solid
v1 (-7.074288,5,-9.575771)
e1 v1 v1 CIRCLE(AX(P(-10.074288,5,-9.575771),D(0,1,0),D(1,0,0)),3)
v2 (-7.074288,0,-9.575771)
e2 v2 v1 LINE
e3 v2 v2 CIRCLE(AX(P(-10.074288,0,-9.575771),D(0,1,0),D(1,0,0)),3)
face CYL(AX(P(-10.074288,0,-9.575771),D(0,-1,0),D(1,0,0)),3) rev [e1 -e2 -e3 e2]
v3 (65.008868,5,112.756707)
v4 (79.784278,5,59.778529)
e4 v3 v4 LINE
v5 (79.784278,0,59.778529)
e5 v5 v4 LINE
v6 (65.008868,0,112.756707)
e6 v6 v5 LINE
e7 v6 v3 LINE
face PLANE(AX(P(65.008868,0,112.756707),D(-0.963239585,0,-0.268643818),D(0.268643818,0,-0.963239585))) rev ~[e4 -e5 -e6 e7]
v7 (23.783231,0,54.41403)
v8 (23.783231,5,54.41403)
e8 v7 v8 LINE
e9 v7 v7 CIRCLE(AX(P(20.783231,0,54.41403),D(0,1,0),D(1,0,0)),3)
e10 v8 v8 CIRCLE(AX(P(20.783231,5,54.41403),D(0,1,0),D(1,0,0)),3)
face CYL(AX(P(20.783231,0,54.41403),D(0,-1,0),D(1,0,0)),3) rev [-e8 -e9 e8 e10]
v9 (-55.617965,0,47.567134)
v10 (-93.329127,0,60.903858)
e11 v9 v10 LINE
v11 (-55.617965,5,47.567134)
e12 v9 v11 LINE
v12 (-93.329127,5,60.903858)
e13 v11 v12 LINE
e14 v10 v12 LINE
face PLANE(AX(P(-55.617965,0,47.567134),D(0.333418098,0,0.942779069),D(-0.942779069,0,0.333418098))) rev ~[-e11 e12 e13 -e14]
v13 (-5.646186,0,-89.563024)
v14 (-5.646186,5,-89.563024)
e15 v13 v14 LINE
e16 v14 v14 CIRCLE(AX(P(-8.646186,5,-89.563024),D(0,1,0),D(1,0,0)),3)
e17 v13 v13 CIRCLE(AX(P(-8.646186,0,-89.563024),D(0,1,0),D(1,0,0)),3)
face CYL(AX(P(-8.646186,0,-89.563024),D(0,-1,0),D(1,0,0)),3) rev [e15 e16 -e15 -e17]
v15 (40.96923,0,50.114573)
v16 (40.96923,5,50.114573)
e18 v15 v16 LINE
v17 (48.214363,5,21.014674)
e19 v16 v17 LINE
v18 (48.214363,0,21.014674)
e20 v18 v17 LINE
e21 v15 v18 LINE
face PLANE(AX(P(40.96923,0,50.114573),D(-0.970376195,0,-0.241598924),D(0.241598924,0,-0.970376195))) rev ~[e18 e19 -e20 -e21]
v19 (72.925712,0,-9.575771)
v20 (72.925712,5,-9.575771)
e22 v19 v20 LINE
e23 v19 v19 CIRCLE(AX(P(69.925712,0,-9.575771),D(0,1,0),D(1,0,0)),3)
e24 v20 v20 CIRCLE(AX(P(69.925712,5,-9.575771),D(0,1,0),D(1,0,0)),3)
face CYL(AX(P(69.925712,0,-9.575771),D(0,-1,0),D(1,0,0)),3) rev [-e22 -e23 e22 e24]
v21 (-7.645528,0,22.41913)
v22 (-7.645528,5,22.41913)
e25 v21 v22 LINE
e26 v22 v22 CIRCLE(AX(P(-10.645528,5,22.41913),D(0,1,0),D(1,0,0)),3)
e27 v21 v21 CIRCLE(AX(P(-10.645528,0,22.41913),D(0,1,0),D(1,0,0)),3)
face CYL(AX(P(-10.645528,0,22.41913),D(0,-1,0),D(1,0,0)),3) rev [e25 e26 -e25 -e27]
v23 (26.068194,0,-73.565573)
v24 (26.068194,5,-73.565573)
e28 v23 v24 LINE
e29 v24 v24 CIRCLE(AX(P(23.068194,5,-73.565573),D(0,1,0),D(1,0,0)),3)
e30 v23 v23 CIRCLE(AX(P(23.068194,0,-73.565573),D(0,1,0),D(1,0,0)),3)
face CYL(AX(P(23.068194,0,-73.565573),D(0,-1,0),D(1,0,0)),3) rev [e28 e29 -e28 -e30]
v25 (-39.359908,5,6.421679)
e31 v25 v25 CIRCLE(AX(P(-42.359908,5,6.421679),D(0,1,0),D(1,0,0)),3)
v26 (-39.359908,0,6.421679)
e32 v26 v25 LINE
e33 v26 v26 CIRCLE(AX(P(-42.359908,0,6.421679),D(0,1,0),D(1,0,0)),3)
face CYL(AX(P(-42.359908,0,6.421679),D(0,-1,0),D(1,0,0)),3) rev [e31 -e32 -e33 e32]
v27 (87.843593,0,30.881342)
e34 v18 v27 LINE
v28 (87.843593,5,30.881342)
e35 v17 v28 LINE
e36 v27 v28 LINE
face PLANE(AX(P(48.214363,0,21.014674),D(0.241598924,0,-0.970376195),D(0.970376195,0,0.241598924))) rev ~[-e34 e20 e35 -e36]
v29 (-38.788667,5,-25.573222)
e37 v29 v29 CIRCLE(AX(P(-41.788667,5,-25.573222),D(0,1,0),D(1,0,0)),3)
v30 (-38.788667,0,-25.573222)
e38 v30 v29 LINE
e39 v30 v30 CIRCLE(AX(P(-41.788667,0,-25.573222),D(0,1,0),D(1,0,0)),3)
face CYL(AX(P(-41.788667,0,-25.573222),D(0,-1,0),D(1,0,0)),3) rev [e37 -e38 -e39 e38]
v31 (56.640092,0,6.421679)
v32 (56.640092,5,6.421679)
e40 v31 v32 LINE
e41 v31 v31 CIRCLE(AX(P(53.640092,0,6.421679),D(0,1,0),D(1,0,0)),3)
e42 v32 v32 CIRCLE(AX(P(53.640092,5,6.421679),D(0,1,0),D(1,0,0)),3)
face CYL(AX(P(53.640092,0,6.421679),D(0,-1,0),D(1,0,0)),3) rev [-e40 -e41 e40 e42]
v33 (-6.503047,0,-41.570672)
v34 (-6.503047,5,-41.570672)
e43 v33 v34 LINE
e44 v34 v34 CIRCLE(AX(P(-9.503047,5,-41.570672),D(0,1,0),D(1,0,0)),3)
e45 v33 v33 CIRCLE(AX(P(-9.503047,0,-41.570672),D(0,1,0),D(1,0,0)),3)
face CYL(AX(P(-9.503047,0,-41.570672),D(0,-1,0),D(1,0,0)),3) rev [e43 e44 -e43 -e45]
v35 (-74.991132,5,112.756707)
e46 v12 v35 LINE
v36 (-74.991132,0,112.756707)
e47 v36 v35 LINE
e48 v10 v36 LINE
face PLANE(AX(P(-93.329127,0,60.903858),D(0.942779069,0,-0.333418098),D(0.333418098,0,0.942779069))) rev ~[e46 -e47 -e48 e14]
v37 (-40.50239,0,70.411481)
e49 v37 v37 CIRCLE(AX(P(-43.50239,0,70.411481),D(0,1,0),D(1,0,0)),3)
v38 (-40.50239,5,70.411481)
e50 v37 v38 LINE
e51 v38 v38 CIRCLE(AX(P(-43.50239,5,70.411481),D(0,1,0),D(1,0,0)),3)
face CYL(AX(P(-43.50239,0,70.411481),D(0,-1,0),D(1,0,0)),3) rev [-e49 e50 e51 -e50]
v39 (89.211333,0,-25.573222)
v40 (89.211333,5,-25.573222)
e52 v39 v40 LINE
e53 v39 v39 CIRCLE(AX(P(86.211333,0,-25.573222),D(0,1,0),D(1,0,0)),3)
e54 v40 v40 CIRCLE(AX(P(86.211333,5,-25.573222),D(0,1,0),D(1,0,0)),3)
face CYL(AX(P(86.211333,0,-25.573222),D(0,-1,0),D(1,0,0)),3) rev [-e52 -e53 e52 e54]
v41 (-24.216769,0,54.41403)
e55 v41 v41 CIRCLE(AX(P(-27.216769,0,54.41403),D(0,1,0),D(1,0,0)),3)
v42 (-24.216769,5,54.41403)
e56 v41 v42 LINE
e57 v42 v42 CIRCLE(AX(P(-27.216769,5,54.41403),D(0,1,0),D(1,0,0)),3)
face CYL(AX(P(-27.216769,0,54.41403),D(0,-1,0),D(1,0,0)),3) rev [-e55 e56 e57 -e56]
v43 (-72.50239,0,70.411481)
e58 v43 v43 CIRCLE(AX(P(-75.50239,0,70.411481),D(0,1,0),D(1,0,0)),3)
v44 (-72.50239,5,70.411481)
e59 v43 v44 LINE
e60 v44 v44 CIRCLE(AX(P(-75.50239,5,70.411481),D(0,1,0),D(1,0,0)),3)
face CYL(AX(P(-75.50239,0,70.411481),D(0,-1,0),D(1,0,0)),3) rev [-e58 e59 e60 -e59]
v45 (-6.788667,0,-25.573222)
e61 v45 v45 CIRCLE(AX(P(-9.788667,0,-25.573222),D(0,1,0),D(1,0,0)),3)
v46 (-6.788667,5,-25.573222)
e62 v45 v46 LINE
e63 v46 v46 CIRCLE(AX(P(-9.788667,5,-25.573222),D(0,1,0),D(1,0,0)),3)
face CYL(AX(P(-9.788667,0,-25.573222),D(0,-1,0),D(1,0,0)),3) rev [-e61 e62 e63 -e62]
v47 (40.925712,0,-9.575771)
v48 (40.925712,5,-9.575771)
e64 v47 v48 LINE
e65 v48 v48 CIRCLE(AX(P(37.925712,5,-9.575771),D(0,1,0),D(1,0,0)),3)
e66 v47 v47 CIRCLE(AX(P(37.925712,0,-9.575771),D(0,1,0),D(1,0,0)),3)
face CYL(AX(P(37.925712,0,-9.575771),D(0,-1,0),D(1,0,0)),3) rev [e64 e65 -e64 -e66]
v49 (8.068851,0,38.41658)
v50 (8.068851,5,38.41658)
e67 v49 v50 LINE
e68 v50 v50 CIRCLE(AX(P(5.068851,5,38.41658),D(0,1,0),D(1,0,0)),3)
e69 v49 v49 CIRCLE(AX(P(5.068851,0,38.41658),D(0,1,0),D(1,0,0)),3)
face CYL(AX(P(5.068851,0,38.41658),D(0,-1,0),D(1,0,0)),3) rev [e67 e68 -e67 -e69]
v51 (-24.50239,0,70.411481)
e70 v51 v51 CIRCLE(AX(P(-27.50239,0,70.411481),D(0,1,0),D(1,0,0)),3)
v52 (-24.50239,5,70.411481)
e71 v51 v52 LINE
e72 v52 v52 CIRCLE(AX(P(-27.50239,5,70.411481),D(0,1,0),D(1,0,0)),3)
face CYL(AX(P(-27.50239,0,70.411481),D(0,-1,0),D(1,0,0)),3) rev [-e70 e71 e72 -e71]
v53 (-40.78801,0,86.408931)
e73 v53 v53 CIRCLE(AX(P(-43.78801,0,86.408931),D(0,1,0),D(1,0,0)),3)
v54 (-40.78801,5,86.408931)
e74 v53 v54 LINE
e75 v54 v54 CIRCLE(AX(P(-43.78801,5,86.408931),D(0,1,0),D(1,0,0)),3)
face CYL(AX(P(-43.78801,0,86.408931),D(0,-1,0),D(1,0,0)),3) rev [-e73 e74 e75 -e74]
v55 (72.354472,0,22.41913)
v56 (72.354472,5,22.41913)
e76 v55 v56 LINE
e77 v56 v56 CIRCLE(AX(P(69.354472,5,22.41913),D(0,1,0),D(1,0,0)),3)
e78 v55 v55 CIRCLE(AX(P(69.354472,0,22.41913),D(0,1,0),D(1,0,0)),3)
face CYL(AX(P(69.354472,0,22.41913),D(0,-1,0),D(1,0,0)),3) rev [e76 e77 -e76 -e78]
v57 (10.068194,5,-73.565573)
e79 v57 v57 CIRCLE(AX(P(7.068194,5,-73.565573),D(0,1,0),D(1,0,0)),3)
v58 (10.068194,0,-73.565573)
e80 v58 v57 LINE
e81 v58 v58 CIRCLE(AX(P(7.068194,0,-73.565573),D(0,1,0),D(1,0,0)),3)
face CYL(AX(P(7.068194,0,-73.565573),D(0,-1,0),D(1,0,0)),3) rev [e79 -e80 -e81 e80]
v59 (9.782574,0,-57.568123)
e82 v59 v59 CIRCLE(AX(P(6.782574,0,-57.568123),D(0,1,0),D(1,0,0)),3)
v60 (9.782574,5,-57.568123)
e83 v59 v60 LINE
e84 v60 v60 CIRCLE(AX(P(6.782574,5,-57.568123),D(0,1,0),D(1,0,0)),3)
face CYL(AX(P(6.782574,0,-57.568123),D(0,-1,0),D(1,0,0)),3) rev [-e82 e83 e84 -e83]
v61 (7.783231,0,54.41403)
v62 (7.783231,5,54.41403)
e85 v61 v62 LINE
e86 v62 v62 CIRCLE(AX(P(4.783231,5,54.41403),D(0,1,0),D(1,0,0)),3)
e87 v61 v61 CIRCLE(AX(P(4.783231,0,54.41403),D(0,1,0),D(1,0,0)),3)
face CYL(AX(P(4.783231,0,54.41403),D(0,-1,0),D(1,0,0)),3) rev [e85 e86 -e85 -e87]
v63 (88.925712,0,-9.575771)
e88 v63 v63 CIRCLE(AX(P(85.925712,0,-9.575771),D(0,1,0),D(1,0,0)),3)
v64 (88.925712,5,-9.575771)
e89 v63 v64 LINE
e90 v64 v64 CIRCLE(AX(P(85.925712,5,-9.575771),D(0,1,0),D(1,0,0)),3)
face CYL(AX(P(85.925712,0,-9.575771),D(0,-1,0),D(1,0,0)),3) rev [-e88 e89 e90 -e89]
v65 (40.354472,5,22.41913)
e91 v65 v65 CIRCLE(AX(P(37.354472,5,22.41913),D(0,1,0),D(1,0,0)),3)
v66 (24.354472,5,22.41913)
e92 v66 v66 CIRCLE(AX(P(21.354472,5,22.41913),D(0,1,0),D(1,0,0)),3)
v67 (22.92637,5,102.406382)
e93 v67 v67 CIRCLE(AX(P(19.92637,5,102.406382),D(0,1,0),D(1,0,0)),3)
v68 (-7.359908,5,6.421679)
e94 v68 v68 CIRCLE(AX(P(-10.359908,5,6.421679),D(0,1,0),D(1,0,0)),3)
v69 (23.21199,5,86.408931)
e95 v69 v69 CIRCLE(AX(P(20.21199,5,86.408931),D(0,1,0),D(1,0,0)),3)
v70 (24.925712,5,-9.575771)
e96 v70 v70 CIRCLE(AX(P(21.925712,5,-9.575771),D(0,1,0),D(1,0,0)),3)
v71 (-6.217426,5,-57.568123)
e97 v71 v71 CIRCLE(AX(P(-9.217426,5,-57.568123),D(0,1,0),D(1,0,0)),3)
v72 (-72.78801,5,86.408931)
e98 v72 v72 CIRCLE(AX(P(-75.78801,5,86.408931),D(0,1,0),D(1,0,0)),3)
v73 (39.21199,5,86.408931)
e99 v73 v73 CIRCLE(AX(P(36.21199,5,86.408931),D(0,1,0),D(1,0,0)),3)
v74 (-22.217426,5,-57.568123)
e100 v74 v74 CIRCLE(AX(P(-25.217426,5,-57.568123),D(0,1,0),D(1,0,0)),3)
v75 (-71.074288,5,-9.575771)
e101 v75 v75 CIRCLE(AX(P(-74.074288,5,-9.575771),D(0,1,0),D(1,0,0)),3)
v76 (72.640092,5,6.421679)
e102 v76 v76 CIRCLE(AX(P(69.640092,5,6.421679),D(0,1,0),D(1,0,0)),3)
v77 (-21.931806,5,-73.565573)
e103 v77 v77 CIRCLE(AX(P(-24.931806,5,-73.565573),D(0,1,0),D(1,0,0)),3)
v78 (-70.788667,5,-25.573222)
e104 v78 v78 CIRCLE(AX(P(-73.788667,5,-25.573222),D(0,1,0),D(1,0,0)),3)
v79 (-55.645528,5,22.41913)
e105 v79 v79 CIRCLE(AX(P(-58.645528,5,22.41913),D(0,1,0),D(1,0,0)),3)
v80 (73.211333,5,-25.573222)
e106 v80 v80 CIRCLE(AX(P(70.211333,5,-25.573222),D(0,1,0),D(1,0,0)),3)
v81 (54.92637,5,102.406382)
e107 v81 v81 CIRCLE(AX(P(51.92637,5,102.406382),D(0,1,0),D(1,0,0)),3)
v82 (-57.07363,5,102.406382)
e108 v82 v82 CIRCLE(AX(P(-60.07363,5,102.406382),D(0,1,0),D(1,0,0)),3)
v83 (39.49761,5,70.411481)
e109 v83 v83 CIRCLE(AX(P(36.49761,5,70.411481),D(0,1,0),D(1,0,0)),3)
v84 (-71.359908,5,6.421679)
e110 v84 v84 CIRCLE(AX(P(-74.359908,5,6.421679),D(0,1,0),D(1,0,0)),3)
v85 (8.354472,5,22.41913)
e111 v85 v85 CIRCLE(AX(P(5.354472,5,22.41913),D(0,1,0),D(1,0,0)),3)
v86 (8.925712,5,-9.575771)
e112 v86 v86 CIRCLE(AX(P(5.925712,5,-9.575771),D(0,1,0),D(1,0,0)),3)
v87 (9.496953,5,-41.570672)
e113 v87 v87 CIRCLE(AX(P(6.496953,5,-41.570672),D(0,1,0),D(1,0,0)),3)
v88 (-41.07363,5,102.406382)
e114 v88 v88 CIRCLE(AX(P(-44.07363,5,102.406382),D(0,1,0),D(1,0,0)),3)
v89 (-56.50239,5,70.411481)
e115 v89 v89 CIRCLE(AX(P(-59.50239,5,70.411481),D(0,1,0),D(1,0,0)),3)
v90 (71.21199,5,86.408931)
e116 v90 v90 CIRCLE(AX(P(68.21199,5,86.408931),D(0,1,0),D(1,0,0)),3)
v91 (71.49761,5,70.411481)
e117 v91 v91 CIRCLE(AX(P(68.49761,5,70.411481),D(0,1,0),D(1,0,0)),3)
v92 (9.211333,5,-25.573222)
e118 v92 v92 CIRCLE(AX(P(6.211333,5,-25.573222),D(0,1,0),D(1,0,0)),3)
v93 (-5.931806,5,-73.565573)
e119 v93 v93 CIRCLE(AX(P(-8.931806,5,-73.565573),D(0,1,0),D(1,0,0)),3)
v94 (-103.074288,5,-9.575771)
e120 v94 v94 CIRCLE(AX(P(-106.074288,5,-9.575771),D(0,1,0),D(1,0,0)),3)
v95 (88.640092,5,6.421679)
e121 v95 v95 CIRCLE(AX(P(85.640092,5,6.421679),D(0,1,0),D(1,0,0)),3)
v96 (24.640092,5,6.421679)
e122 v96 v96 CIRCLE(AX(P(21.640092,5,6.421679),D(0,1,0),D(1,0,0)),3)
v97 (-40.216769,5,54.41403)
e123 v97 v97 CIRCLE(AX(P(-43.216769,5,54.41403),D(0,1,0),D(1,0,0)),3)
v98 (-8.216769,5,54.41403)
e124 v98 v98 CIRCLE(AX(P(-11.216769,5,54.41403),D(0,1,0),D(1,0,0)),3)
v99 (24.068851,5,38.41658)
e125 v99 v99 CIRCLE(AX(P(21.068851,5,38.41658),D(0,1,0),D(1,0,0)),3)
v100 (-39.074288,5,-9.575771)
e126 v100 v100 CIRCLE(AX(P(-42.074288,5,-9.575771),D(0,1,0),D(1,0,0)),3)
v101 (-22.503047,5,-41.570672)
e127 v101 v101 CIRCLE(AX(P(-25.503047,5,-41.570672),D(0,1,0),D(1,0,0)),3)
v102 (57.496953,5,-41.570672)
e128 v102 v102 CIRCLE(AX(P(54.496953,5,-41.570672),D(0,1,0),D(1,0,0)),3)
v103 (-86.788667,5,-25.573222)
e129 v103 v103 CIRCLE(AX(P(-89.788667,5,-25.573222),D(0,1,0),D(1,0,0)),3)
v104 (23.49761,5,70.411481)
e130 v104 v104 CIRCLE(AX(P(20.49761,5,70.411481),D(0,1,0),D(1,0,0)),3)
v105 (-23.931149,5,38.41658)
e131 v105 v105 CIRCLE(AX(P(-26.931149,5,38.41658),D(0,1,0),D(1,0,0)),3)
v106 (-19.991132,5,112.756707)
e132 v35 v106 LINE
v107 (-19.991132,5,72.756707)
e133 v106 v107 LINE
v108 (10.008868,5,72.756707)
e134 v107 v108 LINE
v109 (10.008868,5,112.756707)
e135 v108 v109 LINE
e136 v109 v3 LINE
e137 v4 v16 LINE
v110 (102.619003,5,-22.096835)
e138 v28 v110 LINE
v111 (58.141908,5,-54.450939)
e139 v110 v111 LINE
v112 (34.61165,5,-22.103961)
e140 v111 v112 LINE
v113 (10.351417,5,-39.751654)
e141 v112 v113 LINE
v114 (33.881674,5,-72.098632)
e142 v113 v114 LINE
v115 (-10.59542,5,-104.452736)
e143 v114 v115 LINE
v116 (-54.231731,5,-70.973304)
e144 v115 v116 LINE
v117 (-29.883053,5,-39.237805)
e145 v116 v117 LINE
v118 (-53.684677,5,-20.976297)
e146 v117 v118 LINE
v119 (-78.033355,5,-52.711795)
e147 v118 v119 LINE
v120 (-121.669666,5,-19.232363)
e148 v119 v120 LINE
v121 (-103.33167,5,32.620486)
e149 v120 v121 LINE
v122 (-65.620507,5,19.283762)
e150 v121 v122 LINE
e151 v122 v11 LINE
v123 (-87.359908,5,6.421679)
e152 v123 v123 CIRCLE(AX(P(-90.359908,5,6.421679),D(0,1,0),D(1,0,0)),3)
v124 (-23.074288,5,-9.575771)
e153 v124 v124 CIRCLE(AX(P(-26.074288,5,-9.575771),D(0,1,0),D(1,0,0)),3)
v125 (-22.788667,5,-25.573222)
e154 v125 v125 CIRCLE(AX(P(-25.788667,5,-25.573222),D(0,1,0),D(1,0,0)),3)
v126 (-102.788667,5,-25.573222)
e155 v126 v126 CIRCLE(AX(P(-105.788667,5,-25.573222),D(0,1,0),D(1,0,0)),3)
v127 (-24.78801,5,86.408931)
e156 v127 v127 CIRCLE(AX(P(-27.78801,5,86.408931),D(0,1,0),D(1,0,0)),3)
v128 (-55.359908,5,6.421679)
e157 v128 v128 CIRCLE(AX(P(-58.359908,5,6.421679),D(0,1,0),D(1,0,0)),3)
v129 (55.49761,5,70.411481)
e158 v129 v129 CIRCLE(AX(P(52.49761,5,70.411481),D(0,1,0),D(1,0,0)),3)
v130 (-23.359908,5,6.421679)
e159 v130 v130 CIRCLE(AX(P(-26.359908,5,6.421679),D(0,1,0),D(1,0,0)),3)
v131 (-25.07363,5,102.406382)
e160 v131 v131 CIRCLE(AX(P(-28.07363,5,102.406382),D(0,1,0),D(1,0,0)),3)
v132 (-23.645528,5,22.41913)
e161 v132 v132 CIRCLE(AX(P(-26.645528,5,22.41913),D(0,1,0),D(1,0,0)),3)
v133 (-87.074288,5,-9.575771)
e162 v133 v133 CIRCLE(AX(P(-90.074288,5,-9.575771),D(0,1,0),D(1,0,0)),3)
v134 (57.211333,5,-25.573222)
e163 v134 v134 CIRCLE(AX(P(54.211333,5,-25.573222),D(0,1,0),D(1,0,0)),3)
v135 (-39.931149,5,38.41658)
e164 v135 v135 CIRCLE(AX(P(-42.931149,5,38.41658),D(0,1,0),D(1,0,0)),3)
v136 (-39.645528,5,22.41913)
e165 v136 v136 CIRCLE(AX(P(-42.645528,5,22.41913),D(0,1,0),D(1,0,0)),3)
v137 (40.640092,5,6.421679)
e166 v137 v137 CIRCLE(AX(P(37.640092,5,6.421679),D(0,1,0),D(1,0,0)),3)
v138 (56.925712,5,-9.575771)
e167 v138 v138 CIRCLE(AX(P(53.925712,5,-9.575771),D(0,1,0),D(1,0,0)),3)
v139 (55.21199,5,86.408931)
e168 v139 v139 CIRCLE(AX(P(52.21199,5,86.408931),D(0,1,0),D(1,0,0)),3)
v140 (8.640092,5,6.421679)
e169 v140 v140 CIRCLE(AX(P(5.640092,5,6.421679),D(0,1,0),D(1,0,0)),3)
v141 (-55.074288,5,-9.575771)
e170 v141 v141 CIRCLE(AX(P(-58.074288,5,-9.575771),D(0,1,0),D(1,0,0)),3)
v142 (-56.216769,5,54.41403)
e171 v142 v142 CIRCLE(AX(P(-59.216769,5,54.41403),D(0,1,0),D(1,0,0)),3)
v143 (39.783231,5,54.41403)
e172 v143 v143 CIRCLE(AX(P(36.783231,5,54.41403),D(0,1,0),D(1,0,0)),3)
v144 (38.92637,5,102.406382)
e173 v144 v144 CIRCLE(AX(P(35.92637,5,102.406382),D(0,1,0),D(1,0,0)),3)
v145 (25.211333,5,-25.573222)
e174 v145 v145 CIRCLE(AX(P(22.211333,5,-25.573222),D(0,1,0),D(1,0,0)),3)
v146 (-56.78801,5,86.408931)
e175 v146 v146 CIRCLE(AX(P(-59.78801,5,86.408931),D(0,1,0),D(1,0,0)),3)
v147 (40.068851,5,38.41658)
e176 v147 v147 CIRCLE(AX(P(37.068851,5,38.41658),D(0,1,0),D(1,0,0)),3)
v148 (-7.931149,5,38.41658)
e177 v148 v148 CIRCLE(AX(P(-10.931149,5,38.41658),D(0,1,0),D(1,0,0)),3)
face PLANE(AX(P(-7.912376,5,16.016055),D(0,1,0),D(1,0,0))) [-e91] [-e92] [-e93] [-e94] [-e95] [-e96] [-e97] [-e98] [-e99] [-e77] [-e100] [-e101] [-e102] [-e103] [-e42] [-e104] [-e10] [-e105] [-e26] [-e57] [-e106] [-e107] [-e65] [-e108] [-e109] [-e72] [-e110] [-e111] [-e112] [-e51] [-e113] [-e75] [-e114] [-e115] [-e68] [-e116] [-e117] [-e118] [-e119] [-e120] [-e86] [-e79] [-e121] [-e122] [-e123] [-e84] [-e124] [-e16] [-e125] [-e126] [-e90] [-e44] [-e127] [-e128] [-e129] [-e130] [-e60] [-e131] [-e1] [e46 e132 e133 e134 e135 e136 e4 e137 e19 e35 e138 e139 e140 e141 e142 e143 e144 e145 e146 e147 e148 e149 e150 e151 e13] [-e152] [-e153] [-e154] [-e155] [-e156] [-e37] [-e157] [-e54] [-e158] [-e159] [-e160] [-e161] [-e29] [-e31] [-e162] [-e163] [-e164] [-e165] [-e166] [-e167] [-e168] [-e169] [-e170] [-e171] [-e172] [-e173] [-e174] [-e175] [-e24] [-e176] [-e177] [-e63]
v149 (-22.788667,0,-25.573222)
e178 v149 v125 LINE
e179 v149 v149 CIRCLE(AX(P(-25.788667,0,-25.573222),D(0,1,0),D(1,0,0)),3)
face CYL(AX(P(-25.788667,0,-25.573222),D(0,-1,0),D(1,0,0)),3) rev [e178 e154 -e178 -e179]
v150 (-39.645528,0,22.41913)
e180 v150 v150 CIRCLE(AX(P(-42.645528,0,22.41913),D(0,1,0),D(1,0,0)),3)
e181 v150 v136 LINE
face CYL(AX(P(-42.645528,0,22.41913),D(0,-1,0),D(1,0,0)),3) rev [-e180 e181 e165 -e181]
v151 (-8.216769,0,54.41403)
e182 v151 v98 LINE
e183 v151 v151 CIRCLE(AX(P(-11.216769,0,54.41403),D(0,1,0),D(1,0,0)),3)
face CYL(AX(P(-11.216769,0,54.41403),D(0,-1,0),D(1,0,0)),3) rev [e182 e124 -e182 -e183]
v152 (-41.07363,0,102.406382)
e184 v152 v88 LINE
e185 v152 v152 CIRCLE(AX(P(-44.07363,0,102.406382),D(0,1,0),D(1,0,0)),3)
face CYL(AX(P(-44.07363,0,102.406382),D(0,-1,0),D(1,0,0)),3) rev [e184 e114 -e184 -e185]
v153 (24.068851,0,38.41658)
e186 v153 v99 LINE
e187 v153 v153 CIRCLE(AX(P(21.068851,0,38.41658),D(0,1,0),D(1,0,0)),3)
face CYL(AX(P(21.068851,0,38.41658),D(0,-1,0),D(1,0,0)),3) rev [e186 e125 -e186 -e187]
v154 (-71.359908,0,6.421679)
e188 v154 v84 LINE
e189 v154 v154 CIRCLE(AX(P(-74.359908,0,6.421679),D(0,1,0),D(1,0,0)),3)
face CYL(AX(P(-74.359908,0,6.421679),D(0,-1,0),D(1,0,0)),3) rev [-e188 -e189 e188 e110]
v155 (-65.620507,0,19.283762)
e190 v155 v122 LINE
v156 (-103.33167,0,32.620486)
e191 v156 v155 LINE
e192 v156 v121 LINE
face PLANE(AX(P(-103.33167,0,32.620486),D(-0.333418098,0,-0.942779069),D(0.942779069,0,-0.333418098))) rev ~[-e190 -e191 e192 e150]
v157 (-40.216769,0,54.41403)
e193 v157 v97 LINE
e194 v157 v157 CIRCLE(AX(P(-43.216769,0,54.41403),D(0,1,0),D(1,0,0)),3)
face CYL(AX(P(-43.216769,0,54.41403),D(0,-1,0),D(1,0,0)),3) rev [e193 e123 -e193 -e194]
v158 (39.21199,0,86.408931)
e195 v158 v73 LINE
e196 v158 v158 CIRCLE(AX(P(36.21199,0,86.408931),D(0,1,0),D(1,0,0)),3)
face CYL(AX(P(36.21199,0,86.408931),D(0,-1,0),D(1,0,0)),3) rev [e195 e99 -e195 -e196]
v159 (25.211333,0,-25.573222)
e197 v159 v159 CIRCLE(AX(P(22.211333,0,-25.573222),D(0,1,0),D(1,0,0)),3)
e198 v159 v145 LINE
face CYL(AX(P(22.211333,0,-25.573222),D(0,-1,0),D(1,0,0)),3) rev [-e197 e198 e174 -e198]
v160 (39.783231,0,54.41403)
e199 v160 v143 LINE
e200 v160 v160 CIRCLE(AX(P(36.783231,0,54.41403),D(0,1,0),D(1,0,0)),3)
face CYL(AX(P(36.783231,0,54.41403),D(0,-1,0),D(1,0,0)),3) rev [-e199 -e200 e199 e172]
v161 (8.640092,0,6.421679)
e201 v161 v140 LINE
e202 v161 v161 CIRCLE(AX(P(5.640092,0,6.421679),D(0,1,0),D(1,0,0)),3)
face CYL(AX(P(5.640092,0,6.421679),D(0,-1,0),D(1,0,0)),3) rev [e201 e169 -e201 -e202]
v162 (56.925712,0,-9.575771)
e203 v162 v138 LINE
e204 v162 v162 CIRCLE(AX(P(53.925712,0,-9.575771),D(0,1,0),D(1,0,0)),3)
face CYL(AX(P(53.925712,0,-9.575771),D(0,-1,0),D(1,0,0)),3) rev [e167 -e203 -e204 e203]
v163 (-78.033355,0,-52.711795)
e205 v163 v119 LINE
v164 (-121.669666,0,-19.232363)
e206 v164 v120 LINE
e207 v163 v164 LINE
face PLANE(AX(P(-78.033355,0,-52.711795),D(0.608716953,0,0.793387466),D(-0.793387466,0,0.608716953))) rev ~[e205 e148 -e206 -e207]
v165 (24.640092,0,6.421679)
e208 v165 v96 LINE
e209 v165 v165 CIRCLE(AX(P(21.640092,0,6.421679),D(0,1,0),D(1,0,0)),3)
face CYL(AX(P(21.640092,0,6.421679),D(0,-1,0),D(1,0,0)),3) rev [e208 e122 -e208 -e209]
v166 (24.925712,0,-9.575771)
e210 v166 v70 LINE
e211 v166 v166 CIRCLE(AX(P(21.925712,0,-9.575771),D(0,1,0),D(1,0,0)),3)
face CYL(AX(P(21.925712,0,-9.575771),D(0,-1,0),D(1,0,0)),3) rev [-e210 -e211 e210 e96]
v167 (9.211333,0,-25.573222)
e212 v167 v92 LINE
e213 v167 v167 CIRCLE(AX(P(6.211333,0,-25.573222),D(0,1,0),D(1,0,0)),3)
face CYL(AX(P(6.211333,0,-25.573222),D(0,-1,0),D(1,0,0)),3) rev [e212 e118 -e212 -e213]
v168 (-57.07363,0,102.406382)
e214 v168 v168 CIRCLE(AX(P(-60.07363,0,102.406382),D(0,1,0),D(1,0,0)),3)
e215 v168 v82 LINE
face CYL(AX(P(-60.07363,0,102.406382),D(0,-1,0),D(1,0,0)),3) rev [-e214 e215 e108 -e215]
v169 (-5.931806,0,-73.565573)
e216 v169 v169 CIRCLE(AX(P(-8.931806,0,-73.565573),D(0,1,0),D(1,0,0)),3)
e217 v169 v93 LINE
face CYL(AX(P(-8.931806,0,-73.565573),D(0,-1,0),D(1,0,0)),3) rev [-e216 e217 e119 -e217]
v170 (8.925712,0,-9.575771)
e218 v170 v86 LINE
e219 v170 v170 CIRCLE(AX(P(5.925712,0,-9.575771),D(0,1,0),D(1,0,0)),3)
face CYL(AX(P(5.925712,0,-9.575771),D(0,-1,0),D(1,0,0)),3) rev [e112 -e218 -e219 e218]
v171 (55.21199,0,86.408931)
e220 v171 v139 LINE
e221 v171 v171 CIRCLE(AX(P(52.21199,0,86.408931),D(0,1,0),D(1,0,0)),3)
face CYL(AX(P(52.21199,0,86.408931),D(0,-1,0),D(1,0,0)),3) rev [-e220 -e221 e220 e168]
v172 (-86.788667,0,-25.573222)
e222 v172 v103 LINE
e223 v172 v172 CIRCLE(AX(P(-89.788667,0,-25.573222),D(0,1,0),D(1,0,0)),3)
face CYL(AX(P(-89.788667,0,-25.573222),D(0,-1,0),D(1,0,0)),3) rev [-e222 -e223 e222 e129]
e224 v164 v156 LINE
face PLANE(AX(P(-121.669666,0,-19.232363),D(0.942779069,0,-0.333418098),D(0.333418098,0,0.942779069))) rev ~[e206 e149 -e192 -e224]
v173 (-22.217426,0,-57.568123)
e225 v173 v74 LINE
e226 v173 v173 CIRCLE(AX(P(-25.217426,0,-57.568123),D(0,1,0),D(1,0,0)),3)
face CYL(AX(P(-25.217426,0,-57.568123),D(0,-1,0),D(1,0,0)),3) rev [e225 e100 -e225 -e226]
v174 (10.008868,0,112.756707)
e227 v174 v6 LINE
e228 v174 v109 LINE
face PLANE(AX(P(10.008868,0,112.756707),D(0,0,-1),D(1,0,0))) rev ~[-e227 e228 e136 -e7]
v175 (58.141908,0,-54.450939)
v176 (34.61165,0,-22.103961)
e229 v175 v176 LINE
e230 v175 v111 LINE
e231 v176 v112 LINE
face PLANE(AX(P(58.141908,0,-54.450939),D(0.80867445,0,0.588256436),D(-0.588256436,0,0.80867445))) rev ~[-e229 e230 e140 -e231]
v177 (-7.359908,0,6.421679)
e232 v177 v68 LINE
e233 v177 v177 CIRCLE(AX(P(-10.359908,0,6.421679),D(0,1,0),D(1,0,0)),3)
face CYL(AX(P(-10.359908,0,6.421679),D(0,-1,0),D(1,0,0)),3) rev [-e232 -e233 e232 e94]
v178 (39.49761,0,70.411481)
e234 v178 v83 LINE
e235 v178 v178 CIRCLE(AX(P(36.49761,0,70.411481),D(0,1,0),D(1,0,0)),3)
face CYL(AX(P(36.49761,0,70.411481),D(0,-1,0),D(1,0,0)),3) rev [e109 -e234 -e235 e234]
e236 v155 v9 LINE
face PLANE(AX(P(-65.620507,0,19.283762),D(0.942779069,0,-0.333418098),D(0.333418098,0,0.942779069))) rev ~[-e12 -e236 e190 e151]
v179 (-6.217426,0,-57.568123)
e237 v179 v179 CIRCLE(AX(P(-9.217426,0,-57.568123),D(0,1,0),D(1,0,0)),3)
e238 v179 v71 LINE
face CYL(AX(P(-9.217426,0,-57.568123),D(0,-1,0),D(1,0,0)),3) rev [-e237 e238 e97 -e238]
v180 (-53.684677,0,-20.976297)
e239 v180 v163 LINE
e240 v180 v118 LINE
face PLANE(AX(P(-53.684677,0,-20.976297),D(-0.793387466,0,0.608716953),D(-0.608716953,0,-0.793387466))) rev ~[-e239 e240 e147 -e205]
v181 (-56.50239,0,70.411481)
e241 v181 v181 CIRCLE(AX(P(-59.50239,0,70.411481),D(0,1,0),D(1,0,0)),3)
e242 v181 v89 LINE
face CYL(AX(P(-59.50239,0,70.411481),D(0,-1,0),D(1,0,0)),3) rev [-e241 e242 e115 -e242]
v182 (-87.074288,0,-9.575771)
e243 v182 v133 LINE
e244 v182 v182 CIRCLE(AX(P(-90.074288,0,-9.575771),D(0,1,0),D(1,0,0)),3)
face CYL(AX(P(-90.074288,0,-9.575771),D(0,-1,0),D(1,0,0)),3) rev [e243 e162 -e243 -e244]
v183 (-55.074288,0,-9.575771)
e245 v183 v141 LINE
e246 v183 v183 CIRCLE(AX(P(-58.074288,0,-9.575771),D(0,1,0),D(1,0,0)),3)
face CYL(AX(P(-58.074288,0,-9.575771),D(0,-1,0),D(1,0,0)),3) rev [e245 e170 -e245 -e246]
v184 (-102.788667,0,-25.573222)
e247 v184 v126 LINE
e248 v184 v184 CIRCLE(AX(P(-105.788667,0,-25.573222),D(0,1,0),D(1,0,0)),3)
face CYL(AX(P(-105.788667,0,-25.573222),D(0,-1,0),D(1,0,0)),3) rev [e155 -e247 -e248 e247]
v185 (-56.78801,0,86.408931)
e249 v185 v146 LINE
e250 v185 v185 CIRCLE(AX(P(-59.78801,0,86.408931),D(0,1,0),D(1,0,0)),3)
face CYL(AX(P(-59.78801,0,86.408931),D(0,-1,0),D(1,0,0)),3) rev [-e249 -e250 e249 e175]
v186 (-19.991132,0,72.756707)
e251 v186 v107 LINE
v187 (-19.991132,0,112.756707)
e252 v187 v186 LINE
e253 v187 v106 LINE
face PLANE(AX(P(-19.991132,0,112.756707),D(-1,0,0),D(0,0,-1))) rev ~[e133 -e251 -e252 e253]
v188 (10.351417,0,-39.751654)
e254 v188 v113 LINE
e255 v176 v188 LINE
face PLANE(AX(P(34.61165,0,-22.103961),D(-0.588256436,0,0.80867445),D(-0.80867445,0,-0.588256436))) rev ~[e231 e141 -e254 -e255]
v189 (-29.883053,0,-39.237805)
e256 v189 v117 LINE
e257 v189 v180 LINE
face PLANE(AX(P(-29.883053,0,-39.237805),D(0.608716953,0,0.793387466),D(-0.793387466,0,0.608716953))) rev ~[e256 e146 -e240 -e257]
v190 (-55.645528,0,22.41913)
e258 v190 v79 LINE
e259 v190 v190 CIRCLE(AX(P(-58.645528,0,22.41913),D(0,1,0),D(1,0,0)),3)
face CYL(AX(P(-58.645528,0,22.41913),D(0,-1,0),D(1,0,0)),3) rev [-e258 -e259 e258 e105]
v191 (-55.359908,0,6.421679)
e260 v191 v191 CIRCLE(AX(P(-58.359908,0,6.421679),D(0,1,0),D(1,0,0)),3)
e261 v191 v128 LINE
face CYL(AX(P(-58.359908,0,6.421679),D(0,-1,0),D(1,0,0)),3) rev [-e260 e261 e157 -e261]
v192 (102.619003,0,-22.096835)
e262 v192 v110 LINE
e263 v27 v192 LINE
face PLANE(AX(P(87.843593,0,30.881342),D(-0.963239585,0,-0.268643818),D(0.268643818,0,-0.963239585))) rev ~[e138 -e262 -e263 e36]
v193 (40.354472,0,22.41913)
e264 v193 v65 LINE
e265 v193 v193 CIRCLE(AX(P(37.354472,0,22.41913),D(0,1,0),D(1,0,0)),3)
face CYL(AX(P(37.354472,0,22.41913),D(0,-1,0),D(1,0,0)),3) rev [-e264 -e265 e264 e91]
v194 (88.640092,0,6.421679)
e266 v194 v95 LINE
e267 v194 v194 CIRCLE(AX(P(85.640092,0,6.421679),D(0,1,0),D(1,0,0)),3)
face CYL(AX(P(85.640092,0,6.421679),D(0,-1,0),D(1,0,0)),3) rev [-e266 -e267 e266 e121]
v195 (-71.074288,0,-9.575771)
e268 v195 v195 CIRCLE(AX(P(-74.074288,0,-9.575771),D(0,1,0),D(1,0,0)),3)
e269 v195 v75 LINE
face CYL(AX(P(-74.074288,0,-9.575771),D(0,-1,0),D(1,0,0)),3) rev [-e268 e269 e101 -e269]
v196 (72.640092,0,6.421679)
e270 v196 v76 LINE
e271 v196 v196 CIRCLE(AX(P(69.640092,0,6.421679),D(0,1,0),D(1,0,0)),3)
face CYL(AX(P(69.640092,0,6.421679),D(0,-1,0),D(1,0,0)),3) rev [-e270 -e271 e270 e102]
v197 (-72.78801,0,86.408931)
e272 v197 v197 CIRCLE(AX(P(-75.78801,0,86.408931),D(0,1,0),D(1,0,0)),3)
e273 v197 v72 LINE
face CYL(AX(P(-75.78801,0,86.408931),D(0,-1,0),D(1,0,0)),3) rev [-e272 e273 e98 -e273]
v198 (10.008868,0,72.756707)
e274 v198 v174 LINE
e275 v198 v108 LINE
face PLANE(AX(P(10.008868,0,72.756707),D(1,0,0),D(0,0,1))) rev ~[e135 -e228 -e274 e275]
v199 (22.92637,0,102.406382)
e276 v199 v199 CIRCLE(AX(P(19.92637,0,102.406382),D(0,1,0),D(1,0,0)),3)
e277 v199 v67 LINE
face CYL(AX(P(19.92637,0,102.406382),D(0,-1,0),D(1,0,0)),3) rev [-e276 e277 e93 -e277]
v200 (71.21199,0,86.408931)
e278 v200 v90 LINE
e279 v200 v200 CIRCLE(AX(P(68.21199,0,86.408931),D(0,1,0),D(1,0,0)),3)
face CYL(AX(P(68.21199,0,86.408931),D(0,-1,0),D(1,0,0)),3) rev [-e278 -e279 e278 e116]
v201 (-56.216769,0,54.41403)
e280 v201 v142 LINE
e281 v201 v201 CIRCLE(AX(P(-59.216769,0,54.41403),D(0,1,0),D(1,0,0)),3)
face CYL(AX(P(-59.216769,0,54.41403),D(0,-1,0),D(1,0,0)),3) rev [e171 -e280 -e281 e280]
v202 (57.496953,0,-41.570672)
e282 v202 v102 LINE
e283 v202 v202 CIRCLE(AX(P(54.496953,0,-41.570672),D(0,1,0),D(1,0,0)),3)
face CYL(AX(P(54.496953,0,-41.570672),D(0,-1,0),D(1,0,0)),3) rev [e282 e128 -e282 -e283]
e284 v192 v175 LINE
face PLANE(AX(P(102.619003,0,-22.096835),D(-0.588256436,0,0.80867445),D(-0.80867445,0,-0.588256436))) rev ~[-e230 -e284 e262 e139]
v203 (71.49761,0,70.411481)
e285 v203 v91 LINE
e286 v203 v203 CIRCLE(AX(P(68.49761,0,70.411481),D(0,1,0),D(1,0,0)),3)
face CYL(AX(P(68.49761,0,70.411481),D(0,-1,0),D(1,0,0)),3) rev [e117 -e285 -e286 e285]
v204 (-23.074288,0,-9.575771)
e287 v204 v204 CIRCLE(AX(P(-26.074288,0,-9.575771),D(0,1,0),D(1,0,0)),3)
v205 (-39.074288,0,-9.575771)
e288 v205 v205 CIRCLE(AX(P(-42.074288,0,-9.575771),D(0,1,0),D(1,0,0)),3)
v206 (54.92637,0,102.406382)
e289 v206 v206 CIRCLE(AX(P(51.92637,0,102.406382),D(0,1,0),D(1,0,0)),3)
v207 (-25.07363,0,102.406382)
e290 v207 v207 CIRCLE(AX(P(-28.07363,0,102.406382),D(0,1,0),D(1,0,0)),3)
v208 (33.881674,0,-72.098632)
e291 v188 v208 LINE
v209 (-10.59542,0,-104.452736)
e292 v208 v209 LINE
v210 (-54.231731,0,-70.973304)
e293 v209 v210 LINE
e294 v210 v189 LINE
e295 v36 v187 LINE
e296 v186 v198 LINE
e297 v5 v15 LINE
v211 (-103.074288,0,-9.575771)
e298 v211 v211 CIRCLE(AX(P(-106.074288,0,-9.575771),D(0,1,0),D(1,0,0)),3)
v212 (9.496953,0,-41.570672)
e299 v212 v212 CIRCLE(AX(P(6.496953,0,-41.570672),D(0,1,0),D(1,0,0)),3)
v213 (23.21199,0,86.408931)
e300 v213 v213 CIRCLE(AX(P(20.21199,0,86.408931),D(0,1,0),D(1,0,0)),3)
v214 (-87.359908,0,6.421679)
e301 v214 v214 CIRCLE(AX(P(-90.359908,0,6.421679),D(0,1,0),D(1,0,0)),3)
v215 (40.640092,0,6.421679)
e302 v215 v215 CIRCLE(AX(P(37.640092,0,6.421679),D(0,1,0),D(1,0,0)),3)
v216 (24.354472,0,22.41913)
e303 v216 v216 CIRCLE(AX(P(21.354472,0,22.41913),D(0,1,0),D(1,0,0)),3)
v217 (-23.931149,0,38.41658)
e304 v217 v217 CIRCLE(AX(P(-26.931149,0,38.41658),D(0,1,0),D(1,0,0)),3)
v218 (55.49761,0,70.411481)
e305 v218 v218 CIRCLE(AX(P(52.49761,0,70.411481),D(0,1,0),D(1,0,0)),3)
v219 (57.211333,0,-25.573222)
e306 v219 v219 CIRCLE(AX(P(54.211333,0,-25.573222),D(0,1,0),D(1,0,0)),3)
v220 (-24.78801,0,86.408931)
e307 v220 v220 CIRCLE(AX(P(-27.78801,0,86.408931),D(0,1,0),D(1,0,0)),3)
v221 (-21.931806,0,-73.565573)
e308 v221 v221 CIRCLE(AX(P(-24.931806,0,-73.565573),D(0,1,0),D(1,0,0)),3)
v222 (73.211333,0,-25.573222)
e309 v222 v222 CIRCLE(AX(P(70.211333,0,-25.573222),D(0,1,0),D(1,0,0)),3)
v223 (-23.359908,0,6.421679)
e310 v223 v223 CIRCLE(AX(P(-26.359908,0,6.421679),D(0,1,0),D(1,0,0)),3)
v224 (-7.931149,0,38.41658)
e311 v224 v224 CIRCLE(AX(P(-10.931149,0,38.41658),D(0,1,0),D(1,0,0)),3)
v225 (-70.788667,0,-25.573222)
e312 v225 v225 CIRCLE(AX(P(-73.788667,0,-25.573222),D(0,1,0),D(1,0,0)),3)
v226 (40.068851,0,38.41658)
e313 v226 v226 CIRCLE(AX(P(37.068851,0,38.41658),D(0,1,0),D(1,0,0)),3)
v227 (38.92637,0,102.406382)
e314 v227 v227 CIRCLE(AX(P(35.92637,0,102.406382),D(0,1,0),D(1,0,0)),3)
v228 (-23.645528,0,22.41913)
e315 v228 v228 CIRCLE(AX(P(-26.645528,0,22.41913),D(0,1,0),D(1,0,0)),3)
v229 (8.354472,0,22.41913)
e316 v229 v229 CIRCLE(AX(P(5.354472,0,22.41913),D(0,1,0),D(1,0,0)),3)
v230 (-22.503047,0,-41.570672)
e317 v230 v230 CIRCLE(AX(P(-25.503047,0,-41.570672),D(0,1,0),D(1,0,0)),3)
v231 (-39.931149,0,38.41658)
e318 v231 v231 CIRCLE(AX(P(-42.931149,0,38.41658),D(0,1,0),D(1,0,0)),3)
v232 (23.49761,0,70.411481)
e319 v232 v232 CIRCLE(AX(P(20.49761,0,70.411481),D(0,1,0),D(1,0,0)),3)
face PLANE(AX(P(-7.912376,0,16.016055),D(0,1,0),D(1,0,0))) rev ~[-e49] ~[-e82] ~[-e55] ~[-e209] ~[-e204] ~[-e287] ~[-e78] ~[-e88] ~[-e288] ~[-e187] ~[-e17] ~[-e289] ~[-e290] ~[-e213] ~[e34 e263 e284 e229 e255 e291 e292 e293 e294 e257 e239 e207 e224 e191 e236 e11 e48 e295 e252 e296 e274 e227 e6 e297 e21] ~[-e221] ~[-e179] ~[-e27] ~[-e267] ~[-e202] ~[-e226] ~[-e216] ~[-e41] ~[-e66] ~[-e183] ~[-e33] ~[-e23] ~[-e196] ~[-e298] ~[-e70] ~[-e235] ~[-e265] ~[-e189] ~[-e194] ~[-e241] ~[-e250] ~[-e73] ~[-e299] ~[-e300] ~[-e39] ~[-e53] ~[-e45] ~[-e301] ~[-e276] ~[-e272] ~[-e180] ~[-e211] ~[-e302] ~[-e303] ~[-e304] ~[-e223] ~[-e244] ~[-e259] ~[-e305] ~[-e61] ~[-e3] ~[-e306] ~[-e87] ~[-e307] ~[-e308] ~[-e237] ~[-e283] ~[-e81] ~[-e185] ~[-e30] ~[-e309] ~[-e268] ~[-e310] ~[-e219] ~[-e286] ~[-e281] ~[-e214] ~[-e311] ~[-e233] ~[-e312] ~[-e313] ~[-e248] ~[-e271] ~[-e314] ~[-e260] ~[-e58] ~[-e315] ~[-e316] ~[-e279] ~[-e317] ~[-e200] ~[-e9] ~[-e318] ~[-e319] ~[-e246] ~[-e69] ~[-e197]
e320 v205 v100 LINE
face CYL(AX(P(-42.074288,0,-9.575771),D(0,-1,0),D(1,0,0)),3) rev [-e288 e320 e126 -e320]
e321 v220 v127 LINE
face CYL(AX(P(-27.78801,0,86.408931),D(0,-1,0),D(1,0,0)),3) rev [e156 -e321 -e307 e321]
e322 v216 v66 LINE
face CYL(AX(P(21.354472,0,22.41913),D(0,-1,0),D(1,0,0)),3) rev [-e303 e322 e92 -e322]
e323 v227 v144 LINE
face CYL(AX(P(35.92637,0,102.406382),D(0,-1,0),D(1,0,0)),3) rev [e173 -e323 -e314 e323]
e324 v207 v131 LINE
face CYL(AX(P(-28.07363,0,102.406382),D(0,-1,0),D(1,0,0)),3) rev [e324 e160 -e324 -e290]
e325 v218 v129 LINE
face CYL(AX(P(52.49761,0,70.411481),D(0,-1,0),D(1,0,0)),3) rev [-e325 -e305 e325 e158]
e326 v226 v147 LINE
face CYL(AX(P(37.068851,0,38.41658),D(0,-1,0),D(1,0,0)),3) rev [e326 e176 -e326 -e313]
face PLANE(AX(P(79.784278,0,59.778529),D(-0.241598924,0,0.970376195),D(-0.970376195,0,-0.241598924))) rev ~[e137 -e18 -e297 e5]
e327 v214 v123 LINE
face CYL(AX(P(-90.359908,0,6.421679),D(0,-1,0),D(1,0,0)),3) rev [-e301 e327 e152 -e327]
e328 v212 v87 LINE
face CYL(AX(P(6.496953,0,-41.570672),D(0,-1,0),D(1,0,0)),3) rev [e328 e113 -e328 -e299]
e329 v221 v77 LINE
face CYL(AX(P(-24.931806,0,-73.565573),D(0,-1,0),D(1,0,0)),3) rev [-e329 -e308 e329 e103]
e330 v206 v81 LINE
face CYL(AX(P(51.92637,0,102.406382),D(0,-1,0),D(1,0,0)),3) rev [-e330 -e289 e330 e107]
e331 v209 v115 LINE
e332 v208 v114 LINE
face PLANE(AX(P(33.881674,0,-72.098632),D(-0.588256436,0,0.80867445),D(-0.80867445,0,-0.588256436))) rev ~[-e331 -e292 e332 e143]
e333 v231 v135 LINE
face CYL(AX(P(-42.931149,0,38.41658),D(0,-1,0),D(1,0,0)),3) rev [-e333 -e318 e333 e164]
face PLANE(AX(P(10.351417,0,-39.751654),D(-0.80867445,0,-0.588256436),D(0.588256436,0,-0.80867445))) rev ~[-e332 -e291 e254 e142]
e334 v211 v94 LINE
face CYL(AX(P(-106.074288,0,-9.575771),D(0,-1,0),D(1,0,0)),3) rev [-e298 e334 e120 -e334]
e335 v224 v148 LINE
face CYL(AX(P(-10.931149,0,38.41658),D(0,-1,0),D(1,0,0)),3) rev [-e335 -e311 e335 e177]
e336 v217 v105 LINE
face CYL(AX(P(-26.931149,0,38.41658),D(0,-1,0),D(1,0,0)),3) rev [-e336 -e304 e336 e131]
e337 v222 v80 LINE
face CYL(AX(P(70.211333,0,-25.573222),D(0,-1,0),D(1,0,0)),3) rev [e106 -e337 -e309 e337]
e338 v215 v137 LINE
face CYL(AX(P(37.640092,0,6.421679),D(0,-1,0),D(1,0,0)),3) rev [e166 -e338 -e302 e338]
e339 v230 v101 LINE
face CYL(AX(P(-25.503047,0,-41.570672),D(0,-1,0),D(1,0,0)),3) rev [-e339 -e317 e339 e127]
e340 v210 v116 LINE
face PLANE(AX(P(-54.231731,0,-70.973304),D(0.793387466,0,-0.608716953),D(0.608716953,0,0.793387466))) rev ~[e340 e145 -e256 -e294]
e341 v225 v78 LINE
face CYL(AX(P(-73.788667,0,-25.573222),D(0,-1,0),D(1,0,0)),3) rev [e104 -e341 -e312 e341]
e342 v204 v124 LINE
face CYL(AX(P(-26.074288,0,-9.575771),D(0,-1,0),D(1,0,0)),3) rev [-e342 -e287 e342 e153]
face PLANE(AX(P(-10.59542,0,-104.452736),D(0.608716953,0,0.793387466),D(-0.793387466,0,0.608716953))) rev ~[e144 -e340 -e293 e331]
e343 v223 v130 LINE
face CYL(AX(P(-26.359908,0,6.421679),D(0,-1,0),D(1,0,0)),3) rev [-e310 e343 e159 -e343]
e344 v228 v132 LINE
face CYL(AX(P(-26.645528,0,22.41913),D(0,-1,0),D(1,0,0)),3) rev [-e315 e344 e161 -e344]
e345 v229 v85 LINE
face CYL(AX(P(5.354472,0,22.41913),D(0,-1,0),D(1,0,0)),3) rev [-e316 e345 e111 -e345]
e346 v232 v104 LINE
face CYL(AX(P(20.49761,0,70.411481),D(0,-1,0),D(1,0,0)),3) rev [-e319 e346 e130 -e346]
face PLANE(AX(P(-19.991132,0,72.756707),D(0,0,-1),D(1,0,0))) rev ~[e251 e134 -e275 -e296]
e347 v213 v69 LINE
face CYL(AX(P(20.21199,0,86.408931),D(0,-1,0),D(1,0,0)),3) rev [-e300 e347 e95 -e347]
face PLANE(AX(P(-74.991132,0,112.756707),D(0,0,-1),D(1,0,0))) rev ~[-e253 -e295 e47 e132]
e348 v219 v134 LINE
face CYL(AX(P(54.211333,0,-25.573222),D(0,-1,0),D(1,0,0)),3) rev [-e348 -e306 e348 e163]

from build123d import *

# Parameters (mm, degrees)
SKETCH1_R           = 3
BOSS_EXTRUDE1_DEPTH = 5


with BuildPart() as part:
    # Sketch1 → Boss-Extrude1 (new body)
    with BuildSketch(Plane(origin=(0, 0, 0), x_dir=(1, 0, 0), z_dir=(0, 1, 0))):
        Polygon((33.8816744, 72.09863232), (-10.595420339, 104.452736288), (-54.231730978, 70.973303889), (-29.88305287, 39.237805242), (-53.684676855, 20.976296661), (-78.033354964, 52.711795308), (-121.669665603, 19.232362909), (-103.331670223, -32.62048586), (-65.620507482, -19.283761946), (-55.617964547, -47.567134002), (-93.329127288, -60.903857915), (-74.991131907, -112.756706684), (-19.991131907, -112.756706684), (-19.991131907, -72.756706684), (10.008868093, -72.756706684), (10.008868093, -112.756706684), (65.008868093, -112.756706684), (79.784278091, -59.778529484), (40.969230286, -50.114572533), (48.214362749, -21.014674397), (87.843592635, -30.881341921), (102.619002633, 22.096835279), (58.141907894, 54.450939247), (34.611650463, 22.103961255), (10.351416969, 39.751654328), align=None)
        with Locations((-105.788667233, 25.573221778)):
            Circle(SKETCH1_R, mode=Mode.SUBTRACT)
        with Locations((-89.788667233, 25.573221778)):
            Circle(SKETCH1_R, mode=Mode.SUBTRACT)
        with Locations((-73.788667233, 25.573221778)):
            Circle(SKETCH1_R, mode=Mode.SUBTRACT)
        with Locations((-41.788667233, 25.573221778)):
            Circle(SKETCH1_R, mode=Mode.SUBTRACT)
        with Locations((-25.788667233, 25.573221778)):
            Circle(SKETCH1_R, mode=Mode.SUBTRACT)
        with Locations((-9.788667233, 25.573221778)):
            Circle(SKETCH1_R, mode=Mode.SUBTRACT)
        with Locations((6.211332767, 25.573221778)):
            Circle(SKETCH1_R, mode=Mode.SUBTRACT)
        with Locations((22.211332767, 25.573221778)):
            Circle(SKETCH1_R, mode=Mode.SUBTRACT)
        with Locations((54.211332767, 25.573221778)):
            Circle(SKETCH1_R, mode=Mode.SUBTRACT)
        with Locations((70.211332767, 25.573221778)):
            Circle(SKETCH1_R, mode=Mode.SUBTRACT)
        with Locations((86.211332767, 25.573221778)):
            Circle(SKETCH1_R, mode=Mode.SUBTRACT)
        with Locations((-106.074287638, 9.575771325)):
            Circle(SKETCH1_R, mode=Mode.SUBTRACT)
        with Locations((-90.074287638, 9.575771325)):
            Circle(SKETCH1_R, mode=Mode.SUBTRACT)
        with Locations((-74.074287638, 9.575771325)):
            Circle(SKETCH1_R, mode=Mode.SUBTRACT)
        with Locations((-58.074287638, 9.575771325)):
            Circle(SKETCH1_R, mode=Mode.SUBTRACT)
        with Locations((-42.074287638, 9.575771325)):
            Circle(SKETCH1_R, mode=Mode.SUBTRACT)
        with Locations((-26.074287638, 9.575771325)):
            Circle(SKETCH1_R, mode=Mode.SUBTRACT)
        with Locations((-10.074287638, 9.575771325)):
            Circle(SKETCH1_R, mode=Mode.SUBTRACT)
        with Locations((5.925712362, 9.575771325)):
            Circle(SKETCH1_R, mode=Mode.SUBTRACT)
        with Locations((21.925712362, 9.575771325)):
            Circle(SKETCH1_R, mode=Mode.SUBTRACT)
        with Locations((37.925712362, 9.575771325)):
            Circle(SKETCH1_R, mode=Mode.SUBTRACT)
        with Locations((53.925712362, 9.575771325)):
            Circle(SKETCH1_R, mode=Mode.SUBTRACT)
        with Locations((69.925712362, 9.575771325)):
            Circle(SKETCH1_R, mode=Mode.SUBTRACT)
        with Locations((85.925712362, 9.575771325)):
            Circle(SKETCH1_R, mode=Mode.SUBTRACT)
        with Locations((-90.359908044, -6.421679127)):
            Circle(SKETCH1_R, mode=Mode.SUBTRACT)
        with Locations((-74.359908044, -6.421679127)):
            Circle(SKETCH1_R, mode=Mode.SUBTRACT)
        with Locations((-58.359908044, -6.421679127)):
            Circle(SKETCH1_R, mode=Mode.SUBTRACT)
        with Locations((-42.359908044, -6.421679127)):
            Circle(SKETCH1_R, mode=Mode.SUBTRACT)
        with Locations((-26.359908044, -6.421679127)):
            Circle(SKETCH1_R, mode=Mode.SUBTRACT)
        with Locations((-10.359908044, -6.421679127)):
            Circle(SKETCH1_R, mode=Mode.SUBTRACT)
        with Locations((5.640091956, -6.421679127)):
            Circle(SKETCH1_R, mode=Mode.SUBTRACT)
        with Locations((21.640091956, -6.421679127)):
            Circle(SKETCH1_R, mode=Mode.SUBTRACT)
        with Locations((37.640091956, -6.421679127)):
            Circle(SKETCH1_R, mode=Mode.SUBTRACT)
        with Locations((53.640091956, -6.421679127)):
            Circle(SKETCH1_R, mode=Mode.SUBTRACT)
        with Locations((69.640091956, -6.421679127)):
            Circle(SKETCH1_R, mode=Mode.SUBTRACT)
        with Locations((85.640091956, -6.421679127)):
            Circle(SKETCH1_R, mode=Mode.SUBTRACT)
        with Locations((-58.645528449, -22.41912958)):
            Circle(SKETCH1_R, mode=Mode.SUBTRACT)
        with Locations((-42.645528449, -22.41912958)):
            Circle(SKETCH1_R, mode=Mode.SUBTRACT)
        with Locations((-26.645528449, -22.41912958)):
            Circle(SKETCH1_R, mode=Mode.SUBTRACT)
        with Locations((-10.645528449, -22.41912958)):
            Circle(SKETCH1_R, mode=Mode.SUBTRACT)
        with Locations((5.354471551, -22.41912958)):
            Circle(SKETCH1_R, mode=Mode.SUBTRACT)
        with Locations((21.354471551, -22.41912958)):
            Circle(SKETCH1_R, mode=Mode.SUBTRACT)
        with Locations((37.354471551, -22.41912958)):
            Circle(SKETCH1_R, mode=Mode.SUBTRACT)
        with Locations((69.354471551, -22.41912958)):
            Circle(SKETCH1_R, mode=Mode.SUBTRACT)
        with Locations((-42.931148854, -38.416580032)):
            Circle(SKETCH1_R, mode=Mode.SUBTRACT)
        with Locations((-26.931148854, -38.416580032)):
            Circle(SKETCH1_R, mode=Mode.SUBTRACT)
        with Locations((-10.931148854, -38.416580032)):
            Circle(SKETCH1_R, mode=Mode.SUBTRACT)
        with Locations((5.068851146, -38.416580032)):
            Circle(SKETCH1_R, mode=Mode.SUBTRACT)
        with Locations((21.068851146, -38.416580032)):
            Circle(SKETCH1_R, mode=Mode.SUBTRACT)
        with Locations((37.068851146, -38.416580032)):
            Circle(SKETCH1_R, mode=Mode.SUBTRACT)
        with Locations((-59.216769259, -54.414030485)):
            Circle(SKETCH1_R, mode=Mode.SUBTRACT)
        with Locations((-43.216769259, -54.414030485)):
            Circle(SKETCH1_R, mode=Mode.SUBTRACT)
        with Locations((-27.216769259, -54.414030485)):
            Circle(SKETCH1_R, mode=Mode.SUBTRACT)
        with Locations((-11.216769259, -54.414030485)):
            Circle(SKETCH1_R, mode=Mode.SUBTRACT)
        with Locations((4.783230741, -54.414030485)):
            Circle(SKETCH1_R, mode=Mode.SUBTRACT)
        with Locations((20.783230741, -54.414030485)):
            Circle(SKETCH1_R, mode=Mode.SUBTRACT)
        with Locations((36.783230741, -54.414030485)):
            Circle(SKETCH1_R, mode=Mode.SUBTRACT)
        with Locations((-75.502389665, -70.411480938)):
            Circle(SKETCH1_R, mode=Mode.SUBTRACT)
        with Locations((-59.502389665, -70.411480938)):
            Circle(SKETCH1_R, mode=Mode.SUBTRACT)
        with Locations((-43.502389665, -70.411480938)):
            Circle(SKETCH1_R, mode=Mode.SUBTRACT)
        with Locations((-27.502389665, -70.411480938)):
            Circle(SKETCH1_R, mode=Mode.SUBTRACT)
        with Locations((20.497610335, -70.411480938)):
            Circle(SKETCH1_R, mode=Mode.SUBTRACT)
        with Locations((36.497610335, -70.411480938)):
            Circle(SKETCH1_R, mode=Mode.SUBTRACT)
        with Locations((52.497610335, -70.411480938)):
            Circle(SKETCH1_R, mode=Mode.SUBTRACT)
        with Locations((68.497610335, -70.411480938)):
            Circle(SKETCH1_R, mode=Mode.SUBTRACT)
        with Locations((-75.78801007, -86.40893139)):
            Circle(SKETCH1_R, mode=Mode.SUBTRACT)
        with Locations((-59.78801007, -86.40893139)):
            Circle(SKETCH1_R, mode=Mode.SUBTRACT)
        with Locations((-43.78801007, -86.40893139)):
            Circle(SKETCH1_R, mode=Mode.SUBTRACT)
        with Locations((-27.78801007, -86.40893139)):
            Circle(SKETCH1_R, mode=Mode.SUBTRACT)
        with Locations((20.21198993, -86.40893139)):
            Circle(SKETCH1_R, mode=Mode.SUBTRACT)
        with Locations((36.21198993, -86.40893139)):
            Circle(SKETCH1_R, mode=Mode.SUBTRACT)
        with Locations((52.21198993, -86.40893139)):
            Circle(SKETCH1_R, mode=Mode.SUBTRACT)
        with Locations((68.21198993, -86.40893139)):
            Circle(SKETCH1_R, mode=Mode.SUBTRACT)
        with Locations((-60.073630475, -102.406381843)):
            Circle(SKETCH1_R, mode=Mode.SUBTRACT)
        with Locations((-44.073630475, -102.406381843)):
            Circle(SKETCH1_R, mode=Mode.SUBTRACT)
        with Locations((-28.073630475, -102.406381843)):
            Circle(SKETCH1_R, mode=Mode.SUBTRACT)
        with Locations((19.926369525, -102.406381843)):
            Circle(SKETCH1_R, mode=Mode.SUBTRACT)
        with Locations((35.926369525, -102.406381843)):
            Circle(SKETCH1_R, mode=Mode.SUBTRACT)
        with Locations((51.926369525, -102.406381843)):
            Circle(SKETCH1_R, mode=Mode.SUBTRACT)
        with Locations((-25.217426422, 57.568122683)):
            Circle(SKETCH1_R, mode=Mode.SUBTRACT)
        with Locations((-9.217426422, 57.568122683)):
            Circle(SKETCH1_R, mode=Mode.SUBTRACT)
        with Locations((6.782573578, 57.568122683)):
            Circle(SKETCH1_R, mode=Mode.SUBTRACT)
        with Locations((-24.931806017, 73.565573136)):
            Circle(SKETCH1_R, mode=Mode.SUBTRACT)
        with Locations((-8.931806017, 73.565573136)):
            Circle(SKETCH1_R, mode=Mode.SUBTRACT)
        with Locations((7.068193983, 73.565573136)):
            Circle(SKETCH1_R, mode=Mode.SUBTRACT)
        with Locations((23.068193983, 73.565573136)):
            Circle(SKETCH1_R, mode=Mode.SUBTRACT)
        with Locations((-8.646185612, 89.563023589)):
            Circle(SKETCH1_R, mode=Mode.SUBTRACT)
        with Locations((54.496953172, 41.570672231)):
            Circle(SKETCH1_R, mode=Mode.SUBTRACT)
        with Locations((6.496953172, 41.570672231)):
            Circle(SKETCH1_R, mode=Mode.SUBTRACT)
        with Locations((-9.503046828, 41.570672231)):
            Circle(SKETCH1_R, mode=Mode.SUBTRACT)
        with Locations((-25.503046828, 41.570672231)):
            Circle(SKETCH1_R, mode=Mode.SUBTRACT)
    extrude(amount=BOSS_EXTRUDE1_DEPTH)


solid = part.part
